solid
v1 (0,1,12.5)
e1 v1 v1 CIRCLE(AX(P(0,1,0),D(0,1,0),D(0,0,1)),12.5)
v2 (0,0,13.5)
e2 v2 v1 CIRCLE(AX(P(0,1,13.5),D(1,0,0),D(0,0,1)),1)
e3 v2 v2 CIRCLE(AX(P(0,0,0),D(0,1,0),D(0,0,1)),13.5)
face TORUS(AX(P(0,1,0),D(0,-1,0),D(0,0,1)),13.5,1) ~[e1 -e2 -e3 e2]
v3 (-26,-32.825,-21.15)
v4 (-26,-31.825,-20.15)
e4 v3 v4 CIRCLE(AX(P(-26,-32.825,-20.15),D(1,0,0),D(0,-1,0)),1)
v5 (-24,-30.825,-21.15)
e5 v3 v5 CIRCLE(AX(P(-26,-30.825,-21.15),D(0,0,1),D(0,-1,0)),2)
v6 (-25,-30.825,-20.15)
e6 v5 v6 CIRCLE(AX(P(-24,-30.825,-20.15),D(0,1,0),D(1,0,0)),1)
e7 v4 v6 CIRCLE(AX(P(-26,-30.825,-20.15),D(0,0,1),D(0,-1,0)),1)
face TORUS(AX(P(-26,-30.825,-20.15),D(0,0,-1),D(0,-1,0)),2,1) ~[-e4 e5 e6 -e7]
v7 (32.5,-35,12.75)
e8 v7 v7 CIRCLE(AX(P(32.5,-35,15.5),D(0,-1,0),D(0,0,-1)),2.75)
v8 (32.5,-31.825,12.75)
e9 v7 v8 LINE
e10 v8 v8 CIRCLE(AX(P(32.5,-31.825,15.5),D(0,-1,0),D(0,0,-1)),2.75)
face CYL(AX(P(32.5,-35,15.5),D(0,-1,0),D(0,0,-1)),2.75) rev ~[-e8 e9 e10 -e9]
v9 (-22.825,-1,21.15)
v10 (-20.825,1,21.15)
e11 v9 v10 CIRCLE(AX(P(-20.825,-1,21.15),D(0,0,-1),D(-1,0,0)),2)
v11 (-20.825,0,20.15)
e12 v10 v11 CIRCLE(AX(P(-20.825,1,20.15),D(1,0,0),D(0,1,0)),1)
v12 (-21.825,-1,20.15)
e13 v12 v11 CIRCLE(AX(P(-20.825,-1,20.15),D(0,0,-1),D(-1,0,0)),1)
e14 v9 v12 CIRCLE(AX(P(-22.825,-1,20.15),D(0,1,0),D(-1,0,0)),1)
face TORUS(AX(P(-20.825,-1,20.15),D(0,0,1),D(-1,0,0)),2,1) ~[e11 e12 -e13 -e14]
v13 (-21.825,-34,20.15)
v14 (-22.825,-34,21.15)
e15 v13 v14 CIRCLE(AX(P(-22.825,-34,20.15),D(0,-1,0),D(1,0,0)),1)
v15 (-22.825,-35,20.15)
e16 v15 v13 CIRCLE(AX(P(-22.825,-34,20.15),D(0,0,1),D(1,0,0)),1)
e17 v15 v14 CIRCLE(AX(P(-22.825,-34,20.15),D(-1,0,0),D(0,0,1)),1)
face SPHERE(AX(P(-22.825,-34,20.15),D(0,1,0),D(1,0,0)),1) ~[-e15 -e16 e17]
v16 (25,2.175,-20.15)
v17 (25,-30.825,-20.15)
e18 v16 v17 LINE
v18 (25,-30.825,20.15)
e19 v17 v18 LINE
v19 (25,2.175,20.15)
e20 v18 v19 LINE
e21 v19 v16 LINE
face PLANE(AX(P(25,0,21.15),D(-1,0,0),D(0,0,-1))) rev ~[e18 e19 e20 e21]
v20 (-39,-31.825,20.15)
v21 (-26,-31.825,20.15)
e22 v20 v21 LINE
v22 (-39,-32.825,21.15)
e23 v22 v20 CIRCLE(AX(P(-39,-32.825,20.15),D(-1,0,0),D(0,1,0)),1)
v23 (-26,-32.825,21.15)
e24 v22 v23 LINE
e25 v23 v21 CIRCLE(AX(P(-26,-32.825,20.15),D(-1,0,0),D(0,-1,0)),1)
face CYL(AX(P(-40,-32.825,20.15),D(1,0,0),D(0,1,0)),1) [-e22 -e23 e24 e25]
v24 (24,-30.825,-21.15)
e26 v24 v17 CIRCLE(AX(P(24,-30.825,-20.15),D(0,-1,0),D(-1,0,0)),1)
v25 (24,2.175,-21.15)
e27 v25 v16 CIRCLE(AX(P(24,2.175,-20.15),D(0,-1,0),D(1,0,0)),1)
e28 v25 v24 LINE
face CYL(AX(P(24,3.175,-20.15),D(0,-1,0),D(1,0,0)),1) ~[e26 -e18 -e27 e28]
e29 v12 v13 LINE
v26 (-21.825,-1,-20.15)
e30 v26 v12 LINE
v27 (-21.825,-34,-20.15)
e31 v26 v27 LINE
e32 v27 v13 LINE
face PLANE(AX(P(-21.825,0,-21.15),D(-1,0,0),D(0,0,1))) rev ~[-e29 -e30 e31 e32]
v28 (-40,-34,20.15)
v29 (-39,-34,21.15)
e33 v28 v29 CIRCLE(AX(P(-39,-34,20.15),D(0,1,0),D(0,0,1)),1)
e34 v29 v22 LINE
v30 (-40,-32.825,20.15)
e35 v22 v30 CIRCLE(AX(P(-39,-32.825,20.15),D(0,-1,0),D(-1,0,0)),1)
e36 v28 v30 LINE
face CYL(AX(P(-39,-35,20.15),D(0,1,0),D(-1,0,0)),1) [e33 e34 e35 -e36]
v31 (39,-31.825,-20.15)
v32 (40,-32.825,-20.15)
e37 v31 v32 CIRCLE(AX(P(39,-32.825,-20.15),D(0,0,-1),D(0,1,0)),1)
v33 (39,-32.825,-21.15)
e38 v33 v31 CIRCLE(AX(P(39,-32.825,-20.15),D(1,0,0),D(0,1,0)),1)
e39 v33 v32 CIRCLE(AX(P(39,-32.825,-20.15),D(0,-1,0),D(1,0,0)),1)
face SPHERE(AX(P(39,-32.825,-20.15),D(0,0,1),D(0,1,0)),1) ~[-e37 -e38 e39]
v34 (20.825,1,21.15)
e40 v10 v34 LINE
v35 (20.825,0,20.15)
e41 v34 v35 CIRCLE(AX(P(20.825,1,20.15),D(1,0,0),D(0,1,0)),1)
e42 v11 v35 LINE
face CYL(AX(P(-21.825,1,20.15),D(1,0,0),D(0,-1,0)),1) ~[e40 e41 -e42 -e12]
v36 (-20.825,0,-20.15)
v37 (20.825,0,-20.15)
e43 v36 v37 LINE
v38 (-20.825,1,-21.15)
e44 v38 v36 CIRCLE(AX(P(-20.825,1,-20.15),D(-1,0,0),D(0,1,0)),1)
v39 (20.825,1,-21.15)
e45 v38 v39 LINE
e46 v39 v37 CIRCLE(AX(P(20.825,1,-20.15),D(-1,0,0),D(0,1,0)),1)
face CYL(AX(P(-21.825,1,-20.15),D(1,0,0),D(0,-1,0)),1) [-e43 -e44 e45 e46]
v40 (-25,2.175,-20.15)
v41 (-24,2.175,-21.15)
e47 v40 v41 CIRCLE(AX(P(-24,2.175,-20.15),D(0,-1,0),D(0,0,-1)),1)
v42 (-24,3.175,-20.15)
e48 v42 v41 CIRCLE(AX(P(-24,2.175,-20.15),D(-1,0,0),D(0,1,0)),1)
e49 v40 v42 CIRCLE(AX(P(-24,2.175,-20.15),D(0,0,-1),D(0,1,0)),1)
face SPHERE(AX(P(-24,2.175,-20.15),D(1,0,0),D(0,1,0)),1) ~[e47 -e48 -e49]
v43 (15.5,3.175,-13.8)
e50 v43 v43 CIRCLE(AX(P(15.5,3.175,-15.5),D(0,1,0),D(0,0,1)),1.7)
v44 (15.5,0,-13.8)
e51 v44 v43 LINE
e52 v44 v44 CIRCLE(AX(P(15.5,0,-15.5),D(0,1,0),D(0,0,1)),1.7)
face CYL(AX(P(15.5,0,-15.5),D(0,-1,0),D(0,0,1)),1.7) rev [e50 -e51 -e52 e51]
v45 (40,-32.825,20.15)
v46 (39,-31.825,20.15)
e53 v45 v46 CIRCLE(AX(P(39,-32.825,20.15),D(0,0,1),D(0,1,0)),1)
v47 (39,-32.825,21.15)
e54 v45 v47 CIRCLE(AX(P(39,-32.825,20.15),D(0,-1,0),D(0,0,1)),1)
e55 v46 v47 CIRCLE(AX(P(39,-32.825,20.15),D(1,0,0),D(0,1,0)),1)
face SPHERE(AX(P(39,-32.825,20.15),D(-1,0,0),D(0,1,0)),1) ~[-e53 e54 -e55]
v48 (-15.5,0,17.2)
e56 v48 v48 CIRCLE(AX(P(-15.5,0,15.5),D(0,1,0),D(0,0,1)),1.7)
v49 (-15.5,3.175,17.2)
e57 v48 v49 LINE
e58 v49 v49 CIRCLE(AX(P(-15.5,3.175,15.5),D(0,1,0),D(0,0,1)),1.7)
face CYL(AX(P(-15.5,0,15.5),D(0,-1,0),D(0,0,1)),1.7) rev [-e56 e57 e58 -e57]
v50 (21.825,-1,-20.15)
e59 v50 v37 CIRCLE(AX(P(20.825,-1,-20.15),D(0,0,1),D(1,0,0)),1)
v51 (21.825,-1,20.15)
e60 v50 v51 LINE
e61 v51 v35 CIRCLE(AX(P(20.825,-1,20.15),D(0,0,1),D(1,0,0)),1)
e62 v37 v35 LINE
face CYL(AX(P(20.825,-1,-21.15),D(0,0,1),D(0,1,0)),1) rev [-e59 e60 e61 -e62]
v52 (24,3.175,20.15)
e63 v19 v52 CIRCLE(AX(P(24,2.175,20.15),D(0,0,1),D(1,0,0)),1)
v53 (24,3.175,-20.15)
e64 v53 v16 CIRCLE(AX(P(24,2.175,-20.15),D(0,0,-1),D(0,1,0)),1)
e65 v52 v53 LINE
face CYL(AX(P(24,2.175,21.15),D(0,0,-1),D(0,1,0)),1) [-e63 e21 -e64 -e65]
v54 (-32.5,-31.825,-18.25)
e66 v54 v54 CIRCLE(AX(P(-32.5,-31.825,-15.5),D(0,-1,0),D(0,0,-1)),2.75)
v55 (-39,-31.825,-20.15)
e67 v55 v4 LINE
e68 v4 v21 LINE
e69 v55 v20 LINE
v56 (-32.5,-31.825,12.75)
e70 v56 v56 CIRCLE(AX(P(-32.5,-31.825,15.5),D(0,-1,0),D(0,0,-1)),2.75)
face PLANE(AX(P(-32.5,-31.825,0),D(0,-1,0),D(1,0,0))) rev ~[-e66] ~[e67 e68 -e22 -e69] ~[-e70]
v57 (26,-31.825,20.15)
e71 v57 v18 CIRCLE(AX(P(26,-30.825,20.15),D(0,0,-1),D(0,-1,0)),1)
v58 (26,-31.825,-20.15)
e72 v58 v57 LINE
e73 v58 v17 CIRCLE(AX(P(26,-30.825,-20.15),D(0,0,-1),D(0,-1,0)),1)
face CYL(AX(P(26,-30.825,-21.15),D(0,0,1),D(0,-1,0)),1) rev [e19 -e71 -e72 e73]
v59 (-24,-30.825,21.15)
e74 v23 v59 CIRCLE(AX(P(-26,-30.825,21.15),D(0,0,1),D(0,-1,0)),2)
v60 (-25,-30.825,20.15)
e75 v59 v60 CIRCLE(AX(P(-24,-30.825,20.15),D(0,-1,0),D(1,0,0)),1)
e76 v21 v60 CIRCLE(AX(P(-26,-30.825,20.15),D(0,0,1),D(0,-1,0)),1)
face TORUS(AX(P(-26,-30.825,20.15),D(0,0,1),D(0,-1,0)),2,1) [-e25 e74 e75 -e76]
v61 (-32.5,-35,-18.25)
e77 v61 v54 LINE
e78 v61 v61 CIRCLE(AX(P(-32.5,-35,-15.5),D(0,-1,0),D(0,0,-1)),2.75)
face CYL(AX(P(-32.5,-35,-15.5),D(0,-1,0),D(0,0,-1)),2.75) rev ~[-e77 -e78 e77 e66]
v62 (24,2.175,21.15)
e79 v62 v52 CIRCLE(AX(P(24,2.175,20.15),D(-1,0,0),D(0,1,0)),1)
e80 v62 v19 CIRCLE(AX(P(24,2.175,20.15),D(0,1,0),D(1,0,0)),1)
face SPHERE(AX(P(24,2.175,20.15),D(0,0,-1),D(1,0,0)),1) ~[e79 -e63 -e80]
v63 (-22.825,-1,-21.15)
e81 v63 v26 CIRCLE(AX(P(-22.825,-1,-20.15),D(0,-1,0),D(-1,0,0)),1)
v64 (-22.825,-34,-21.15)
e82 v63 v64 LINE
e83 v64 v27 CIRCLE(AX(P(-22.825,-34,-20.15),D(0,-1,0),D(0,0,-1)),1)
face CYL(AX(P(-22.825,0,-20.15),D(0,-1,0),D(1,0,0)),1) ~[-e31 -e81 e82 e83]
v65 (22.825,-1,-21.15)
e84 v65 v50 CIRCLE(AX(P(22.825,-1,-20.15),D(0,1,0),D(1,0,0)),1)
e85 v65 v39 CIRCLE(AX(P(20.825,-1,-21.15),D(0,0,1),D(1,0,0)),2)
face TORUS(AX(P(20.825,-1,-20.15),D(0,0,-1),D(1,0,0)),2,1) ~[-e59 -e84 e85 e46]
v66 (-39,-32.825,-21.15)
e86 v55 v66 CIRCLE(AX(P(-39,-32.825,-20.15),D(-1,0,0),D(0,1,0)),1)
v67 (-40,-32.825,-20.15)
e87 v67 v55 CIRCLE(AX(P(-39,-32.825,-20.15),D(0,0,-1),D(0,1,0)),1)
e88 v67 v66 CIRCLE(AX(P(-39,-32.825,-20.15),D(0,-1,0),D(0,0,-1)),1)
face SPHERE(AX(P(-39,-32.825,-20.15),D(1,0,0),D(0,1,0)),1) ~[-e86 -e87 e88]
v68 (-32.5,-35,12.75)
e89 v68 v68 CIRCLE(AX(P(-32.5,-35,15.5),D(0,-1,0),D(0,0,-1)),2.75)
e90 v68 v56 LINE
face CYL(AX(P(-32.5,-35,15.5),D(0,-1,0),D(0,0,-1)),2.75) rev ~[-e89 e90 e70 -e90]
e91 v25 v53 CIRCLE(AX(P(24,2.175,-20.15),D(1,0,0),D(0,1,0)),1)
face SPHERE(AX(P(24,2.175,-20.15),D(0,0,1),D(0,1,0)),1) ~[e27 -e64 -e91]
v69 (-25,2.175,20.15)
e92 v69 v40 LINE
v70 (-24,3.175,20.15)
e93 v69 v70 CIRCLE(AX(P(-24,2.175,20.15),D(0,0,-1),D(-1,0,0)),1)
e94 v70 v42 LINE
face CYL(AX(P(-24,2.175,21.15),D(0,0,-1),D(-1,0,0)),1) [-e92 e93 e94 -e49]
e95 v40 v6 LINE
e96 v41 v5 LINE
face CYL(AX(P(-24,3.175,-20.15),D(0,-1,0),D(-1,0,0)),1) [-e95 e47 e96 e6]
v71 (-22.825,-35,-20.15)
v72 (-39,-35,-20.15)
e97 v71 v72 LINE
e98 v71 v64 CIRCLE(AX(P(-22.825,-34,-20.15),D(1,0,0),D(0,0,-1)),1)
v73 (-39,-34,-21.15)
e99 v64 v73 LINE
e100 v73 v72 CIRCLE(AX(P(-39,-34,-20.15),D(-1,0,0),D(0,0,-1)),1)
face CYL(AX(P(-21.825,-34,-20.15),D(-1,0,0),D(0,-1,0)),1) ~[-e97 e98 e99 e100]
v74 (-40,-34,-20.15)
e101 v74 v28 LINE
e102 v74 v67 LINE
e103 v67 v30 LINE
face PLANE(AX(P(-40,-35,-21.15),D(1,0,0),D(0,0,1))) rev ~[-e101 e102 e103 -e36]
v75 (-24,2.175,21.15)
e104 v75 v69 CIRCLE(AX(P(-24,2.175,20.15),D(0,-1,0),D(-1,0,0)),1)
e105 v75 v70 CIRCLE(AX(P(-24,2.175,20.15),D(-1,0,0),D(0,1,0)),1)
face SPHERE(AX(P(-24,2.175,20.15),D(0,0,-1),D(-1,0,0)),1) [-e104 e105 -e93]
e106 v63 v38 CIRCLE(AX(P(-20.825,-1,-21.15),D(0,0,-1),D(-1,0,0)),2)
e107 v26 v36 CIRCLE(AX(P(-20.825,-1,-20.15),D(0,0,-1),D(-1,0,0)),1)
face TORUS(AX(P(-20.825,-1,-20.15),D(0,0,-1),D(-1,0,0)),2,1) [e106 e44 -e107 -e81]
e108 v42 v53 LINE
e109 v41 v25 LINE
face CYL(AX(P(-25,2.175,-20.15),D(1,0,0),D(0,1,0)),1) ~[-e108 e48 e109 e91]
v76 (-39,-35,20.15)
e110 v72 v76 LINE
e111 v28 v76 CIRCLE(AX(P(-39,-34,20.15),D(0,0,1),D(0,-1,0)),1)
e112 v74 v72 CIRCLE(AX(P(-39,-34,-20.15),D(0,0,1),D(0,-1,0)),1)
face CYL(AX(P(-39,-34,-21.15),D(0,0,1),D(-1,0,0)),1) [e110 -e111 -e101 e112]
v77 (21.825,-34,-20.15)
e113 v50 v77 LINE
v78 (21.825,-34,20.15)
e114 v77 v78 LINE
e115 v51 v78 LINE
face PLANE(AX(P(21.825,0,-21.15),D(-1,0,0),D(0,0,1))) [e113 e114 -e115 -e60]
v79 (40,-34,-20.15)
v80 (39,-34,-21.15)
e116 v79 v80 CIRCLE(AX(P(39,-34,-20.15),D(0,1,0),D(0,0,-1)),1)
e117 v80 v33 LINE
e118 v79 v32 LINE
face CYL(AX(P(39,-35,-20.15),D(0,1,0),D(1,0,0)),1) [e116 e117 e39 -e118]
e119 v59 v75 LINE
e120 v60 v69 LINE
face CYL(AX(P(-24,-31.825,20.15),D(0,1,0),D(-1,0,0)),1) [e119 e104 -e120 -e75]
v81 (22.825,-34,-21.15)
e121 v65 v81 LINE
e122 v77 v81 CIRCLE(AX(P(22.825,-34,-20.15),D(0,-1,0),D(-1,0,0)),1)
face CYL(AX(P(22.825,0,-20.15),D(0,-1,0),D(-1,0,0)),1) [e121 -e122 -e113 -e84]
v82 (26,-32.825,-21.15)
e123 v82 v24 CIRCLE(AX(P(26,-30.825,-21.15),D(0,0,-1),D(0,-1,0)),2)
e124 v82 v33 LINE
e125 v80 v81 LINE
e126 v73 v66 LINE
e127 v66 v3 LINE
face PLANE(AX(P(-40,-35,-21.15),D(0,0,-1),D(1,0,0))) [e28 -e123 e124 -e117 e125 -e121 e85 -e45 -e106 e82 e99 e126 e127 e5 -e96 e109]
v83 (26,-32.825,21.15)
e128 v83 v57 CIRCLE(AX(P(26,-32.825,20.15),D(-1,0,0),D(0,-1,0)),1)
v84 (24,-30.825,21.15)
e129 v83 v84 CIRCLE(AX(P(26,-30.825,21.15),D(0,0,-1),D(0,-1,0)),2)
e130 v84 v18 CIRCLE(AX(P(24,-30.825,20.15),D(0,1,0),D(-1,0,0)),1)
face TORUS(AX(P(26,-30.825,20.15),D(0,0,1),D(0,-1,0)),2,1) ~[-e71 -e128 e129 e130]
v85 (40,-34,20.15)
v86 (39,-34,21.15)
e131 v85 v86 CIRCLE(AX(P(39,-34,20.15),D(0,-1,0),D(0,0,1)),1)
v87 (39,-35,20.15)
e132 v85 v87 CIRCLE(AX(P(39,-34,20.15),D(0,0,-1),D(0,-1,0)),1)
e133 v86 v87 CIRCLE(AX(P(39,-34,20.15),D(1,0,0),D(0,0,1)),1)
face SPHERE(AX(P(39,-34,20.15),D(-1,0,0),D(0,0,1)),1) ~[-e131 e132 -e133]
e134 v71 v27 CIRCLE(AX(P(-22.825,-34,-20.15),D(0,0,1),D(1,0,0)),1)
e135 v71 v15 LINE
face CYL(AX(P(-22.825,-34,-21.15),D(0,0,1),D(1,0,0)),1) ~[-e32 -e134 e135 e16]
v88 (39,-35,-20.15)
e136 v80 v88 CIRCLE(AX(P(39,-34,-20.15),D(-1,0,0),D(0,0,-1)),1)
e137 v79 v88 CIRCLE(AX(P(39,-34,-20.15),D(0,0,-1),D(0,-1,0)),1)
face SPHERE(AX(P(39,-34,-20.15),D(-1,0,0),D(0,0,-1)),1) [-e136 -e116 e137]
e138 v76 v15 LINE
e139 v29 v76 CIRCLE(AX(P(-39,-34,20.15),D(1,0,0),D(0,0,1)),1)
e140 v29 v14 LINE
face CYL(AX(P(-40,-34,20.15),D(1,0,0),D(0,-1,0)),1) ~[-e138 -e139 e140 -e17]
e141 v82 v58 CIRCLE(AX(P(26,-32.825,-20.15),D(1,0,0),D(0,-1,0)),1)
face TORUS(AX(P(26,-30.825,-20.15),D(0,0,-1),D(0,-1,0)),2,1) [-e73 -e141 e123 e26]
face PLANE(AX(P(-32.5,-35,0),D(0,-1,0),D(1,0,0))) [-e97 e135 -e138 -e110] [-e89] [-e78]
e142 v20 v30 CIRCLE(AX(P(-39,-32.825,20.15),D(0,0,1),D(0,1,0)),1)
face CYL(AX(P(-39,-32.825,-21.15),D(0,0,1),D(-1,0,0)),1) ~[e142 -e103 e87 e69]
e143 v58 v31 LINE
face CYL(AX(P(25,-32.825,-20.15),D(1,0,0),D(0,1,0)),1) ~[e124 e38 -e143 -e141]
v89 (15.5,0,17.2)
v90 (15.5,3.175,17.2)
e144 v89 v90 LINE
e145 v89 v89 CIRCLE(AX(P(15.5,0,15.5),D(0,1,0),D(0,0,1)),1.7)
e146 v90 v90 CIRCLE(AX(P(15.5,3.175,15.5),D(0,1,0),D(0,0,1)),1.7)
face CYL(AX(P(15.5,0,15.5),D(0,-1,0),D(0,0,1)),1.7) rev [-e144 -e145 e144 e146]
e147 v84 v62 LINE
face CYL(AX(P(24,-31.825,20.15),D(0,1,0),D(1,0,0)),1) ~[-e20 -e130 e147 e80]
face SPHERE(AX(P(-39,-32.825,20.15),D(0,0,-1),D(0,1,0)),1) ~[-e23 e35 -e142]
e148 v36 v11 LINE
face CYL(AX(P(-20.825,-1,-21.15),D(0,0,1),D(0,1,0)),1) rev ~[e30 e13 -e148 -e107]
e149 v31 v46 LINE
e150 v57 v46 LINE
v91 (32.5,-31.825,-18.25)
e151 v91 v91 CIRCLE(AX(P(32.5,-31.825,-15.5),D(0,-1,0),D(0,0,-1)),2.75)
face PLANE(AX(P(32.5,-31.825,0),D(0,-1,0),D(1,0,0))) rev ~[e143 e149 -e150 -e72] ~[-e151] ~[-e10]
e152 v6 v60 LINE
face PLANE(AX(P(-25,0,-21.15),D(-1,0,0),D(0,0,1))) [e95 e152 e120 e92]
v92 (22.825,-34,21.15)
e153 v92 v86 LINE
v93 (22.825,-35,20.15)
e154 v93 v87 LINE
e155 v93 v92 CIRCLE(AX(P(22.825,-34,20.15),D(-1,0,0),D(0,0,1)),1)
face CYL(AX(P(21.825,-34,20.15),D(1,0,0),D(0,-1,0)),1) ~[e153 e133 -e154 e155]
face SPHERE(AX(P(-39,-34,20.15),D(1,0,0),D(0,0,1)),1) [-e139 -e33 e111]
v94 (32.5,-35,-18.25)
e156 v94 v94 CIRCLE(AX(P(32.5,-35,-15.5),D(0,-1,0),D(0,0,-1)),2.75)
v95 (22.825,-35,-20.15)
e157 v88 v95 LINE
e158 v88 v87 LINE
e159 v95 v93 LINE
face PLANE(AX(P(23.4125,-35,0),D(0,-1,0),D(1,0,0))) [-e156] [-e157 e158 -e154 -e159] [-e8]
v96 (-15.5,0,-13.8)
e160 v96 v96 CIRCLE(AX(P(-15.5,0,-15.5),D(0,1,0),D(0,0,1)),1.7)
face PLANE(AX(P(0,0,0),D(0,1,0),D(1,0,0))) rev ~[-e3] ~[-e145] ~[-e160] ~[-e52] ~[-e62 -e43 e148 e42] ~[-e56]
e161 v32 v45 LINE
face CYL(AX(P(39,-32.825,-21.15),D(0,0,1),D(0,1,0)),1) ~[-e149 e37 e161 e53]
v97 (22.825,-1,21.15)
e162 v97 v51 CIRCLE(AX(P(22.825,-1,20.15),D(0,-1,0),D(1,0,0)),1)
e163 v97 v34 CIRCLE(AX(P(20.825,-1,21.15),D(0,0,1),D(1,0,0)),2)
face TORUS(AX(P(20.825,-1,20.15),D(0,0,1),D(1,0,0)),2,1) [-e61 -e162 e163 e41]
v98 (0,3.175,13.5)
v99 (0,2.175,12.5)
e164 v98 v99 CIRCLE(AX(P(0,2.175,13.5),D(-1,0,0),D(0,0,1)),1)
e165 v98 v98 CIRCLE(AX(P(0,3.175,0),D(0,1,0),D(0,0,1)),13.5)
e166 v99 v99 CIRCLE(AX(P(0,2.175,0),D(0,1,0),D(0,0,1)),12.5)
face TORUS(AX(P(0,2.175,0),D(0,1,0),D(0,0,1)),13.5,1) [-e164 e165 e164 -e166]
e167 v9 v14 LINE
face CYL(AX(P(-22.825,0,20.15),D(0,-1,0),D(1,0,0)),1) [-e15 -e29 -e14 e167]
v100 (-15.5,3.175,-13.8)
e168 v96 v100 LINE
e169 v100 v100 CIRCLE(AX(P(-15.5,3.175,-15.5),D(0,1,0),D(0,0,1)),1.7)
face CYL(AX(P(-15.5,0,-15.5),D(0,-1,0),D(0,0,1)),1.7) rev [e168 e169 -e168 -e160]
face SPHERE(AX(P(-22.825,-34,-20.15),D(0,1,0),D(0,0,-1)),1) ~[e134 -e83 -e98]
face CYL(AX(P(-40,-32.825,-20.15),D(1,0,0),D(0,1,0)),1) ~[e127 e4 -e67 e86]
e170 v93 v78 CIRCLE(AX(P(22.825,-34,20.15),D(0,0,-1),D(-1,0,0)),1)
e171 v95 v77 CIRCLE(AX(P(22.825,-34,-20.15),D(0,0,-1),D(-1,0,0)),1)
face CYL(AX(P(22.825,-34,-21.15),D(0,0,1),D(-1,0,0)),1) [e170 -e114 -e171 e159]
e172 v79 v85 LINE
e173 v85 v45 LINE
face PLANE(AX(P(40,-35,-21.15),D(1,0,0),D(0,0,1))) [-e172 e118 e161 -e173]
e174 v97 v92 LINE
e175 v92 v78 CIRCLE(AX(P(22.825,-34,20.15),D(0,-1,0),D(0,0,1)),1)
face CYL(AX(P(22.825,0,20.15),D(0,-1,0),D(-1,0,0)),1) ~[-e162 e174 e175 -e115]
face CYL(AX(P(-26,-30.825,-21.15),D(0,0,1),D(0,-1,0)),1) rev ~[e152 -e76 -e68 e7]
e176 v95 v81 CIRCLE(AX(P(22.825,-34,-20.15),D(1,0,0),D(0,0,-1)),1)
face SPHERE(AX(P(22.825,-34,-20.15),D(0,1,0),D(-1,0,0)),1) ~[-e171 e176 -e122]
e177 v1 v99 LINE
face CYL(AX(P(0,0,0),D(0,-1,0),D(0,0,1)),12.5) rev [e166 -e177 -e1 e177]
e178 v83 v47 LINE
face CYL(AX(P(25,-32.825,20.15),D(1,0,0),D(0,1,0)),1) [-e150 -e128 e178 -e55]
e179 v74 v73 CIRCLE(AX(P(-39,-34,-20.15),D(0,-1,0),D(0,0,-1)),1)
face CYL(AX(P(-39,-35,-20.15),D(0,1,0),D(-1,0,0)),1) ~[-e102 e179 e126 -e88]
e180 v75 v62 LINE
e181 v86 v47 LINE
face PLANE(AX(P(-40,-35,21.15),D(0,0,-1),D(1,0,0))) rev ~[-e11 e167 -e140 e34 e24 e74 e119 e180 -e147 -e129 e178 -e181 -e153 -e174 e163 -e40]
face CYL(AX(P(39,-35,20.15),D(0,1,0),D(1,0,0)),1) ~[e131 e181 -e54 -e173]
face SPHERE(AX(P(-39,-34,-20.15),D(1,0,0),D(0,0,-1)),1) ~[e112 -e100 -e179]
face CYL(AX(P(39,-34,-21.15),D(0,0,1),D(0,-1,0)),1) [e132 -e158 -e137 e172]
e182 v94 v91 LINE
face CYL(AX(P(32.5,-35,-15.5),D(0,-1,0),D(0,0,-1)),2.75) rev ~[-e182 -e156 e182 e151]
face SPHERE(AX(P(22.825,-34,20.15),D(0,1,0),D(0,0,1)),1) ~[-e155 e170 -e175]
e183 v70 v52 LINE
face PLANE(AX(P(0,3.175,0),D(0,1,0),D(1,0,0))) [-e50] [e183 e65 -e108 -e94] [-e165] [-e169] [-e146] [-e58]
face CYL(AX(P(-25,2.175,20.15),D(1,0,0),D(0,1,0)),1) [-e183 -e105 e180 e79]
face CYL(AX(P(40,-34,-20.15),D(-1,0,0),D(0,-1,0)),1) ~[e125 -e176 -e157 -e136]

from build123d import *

# Parameters (mm, degrees)
SKETCH1_W           = 50
SKETCH1_H           = 42.3
SKETCH1_R           = 12.5
SKETCH1_R_2         = 1.7
BOSS_EXTRUDE1_DEPTH = 3.175
SKETCH2_W           = 3.175
SKETCH2_H           = 42.3
BOSS_EXTRUDE2_DEPTH = 35
SKETCH3_W           = 15
SKETCH3_H           = 42.3
SKETCH3_R           = 2.75
BOSS_EXTRUDE3_DEPTH = 3.175
FILLET1_R           = 1
FILLET2_R           = 1


with BuildPart() as part:
    # Sketch1 → Boss-Extrude1 (new body)
    with BuildSketch(Plane(origin=(0, 0, 0), x_dir=(1, 0, 0), z_dir=(0, 1, 0))):
        Rectangle(SKETCH1_W, SKETCH1_H)
        with Locations(Location((0, 0, 0), (0, 0, 270))):
            Circle(SKETCH1_R, mode=Mode.SUBTRACT)
        with Locations(Location((-15.5, 15.5, 0), (0, 0, 270))):
            Circle(SKETCH1_R_2, mode=Mode.SUBTRACT)
        with Locations(Location((15.5, 15.5, 0), (0, 0, 270))):
            Circle(SKETCH1_R_2, mode=Mode.SUBTRACT)
        with Locations(Location((15.5, -15.5, 0), (0, 0, 270))):
            Circle(SKETCH1_R_2, mode=Mode.SUBTRACT)
        with Locations(Location((-15.5, -15.5, 0), (0, 0, 270))):
            Circle(SKETCH1_R_2, mode=Mode.SUBTRACT)
    extrude(amount=BOSS_EXTRUDE1_DEPTH)

    # Sketch2 → Boss-Extrude2 (add)
    with BuildSketch(Plane.XZ):
        with Locations((-23.4125, 0)):
            Rectangle(SKETCH2_W, SKETCH2_H)
        with Locations((23.4125, 0)):
            Rectangle(SKETCH2_W, SKETCH2_H)
    extrude(amount=BOSS_EXTRUDE2_DEPTH)

    # Sketch3 → Boss-Extrude3 (add)
    # profile 1 of 2: a face of its own
    with BuildSketch(Plane.XZ.offset(35)):
        with Locations((-32.5, 0)):
            Rectangle(SKETCH3_W, SKETCH3_H)
        with Locations(Location((-32.5, 15.5, 0), (0, 0, 270))):
            Circle(SKETCH3_R, mode=Mode.SUBTRACT)
        with Locations(Location((-32.5, -15.5, 0), (0, 0, 270))):
            Circle(SKETCH3_R, mode=Mode.SUBTRACT)
    # profile 2 of 2: a face of its own
    with BuildSketch(Plane.XZ.offset(35)):
        with Locations((32.5, 0)):
            Rectangle(SKETCH3_W, SKETCH3_H)
        with Locations(Location((32.5, -15.5, 0), (0, 0, 270))):
            Circle(SKETCH3_R, mode=Mode.SUBTRACT)
        with Locations(Location((32.5, 15.5, 0), (0, 0, 270))):
            Circle(SKETCH3_R, mode=Mode.SUBTRACT)
    extrude(amount=-BOSS_EXTRUDE3_DEPTH)

    # Fillet1
    fillet1_edges = [part.edges().sort_by_distance(p)[0] for p in [
        (25, 3.175, 0),
        (0, 3.175, -21.15),
        (0, 0, 21.15),
        (-21.825, 0, 0),
        (-21.825, -17.5, -21.15),
        (-21.825, -17.5, 21.15),
        (-30.9125, -35, -21.15),
        (-21.825, -35, 0),
        (-30.9125, -35, 21.15),
        (0, 0, -21.15),
        (21.825, 0, 0),
        (21.825, -17.5, 21.15),
        (21.825, -17.5, -21.15),
        (-25, 3.175, 0),
        (30.9125, -35, 21.15),
        (21.825, -35, 0),
        (30.9125, -35, -21.15),
        (-25, -31.825, 0),
        (-32.5, -31.825, -21.15),
        (-40, -31.825, 0),
        (-40, -33.4125, -21.15),
        (-32.5, -31.825, 21.15),
        (-40, -33.4125, 21.15),
        (-40, -35, 0),
        (25, -31.825, 0),
        (32.5, -31.825, 21.15),
        (40, -31.825, 0),
        (40, -33.4125, 21.15),
        (32.5, -31.825, -21.15),
        (40, -33.4125, -21.15),
        (-25, -14.325, -21.15),
        (40, -35, 0),
        (25, -14.325, -21.15),
        (25, -14.325, 21.15),
        (-25, -14.325, 21.15),
        (0, 3.175, 21.15),
    ]]
    fillet(fillet1_edges, radius=FILLET1_R)

    # Fillet2
    fillet2_edges = [part.edges().sort_by_distance(p)[0] for p in [
        (0, 0, -12.5),
        (0, 3.175, -12.5),
    ]]
    fillet(fillet2_edges, radius=FILLET2_R)


solid = part.part
